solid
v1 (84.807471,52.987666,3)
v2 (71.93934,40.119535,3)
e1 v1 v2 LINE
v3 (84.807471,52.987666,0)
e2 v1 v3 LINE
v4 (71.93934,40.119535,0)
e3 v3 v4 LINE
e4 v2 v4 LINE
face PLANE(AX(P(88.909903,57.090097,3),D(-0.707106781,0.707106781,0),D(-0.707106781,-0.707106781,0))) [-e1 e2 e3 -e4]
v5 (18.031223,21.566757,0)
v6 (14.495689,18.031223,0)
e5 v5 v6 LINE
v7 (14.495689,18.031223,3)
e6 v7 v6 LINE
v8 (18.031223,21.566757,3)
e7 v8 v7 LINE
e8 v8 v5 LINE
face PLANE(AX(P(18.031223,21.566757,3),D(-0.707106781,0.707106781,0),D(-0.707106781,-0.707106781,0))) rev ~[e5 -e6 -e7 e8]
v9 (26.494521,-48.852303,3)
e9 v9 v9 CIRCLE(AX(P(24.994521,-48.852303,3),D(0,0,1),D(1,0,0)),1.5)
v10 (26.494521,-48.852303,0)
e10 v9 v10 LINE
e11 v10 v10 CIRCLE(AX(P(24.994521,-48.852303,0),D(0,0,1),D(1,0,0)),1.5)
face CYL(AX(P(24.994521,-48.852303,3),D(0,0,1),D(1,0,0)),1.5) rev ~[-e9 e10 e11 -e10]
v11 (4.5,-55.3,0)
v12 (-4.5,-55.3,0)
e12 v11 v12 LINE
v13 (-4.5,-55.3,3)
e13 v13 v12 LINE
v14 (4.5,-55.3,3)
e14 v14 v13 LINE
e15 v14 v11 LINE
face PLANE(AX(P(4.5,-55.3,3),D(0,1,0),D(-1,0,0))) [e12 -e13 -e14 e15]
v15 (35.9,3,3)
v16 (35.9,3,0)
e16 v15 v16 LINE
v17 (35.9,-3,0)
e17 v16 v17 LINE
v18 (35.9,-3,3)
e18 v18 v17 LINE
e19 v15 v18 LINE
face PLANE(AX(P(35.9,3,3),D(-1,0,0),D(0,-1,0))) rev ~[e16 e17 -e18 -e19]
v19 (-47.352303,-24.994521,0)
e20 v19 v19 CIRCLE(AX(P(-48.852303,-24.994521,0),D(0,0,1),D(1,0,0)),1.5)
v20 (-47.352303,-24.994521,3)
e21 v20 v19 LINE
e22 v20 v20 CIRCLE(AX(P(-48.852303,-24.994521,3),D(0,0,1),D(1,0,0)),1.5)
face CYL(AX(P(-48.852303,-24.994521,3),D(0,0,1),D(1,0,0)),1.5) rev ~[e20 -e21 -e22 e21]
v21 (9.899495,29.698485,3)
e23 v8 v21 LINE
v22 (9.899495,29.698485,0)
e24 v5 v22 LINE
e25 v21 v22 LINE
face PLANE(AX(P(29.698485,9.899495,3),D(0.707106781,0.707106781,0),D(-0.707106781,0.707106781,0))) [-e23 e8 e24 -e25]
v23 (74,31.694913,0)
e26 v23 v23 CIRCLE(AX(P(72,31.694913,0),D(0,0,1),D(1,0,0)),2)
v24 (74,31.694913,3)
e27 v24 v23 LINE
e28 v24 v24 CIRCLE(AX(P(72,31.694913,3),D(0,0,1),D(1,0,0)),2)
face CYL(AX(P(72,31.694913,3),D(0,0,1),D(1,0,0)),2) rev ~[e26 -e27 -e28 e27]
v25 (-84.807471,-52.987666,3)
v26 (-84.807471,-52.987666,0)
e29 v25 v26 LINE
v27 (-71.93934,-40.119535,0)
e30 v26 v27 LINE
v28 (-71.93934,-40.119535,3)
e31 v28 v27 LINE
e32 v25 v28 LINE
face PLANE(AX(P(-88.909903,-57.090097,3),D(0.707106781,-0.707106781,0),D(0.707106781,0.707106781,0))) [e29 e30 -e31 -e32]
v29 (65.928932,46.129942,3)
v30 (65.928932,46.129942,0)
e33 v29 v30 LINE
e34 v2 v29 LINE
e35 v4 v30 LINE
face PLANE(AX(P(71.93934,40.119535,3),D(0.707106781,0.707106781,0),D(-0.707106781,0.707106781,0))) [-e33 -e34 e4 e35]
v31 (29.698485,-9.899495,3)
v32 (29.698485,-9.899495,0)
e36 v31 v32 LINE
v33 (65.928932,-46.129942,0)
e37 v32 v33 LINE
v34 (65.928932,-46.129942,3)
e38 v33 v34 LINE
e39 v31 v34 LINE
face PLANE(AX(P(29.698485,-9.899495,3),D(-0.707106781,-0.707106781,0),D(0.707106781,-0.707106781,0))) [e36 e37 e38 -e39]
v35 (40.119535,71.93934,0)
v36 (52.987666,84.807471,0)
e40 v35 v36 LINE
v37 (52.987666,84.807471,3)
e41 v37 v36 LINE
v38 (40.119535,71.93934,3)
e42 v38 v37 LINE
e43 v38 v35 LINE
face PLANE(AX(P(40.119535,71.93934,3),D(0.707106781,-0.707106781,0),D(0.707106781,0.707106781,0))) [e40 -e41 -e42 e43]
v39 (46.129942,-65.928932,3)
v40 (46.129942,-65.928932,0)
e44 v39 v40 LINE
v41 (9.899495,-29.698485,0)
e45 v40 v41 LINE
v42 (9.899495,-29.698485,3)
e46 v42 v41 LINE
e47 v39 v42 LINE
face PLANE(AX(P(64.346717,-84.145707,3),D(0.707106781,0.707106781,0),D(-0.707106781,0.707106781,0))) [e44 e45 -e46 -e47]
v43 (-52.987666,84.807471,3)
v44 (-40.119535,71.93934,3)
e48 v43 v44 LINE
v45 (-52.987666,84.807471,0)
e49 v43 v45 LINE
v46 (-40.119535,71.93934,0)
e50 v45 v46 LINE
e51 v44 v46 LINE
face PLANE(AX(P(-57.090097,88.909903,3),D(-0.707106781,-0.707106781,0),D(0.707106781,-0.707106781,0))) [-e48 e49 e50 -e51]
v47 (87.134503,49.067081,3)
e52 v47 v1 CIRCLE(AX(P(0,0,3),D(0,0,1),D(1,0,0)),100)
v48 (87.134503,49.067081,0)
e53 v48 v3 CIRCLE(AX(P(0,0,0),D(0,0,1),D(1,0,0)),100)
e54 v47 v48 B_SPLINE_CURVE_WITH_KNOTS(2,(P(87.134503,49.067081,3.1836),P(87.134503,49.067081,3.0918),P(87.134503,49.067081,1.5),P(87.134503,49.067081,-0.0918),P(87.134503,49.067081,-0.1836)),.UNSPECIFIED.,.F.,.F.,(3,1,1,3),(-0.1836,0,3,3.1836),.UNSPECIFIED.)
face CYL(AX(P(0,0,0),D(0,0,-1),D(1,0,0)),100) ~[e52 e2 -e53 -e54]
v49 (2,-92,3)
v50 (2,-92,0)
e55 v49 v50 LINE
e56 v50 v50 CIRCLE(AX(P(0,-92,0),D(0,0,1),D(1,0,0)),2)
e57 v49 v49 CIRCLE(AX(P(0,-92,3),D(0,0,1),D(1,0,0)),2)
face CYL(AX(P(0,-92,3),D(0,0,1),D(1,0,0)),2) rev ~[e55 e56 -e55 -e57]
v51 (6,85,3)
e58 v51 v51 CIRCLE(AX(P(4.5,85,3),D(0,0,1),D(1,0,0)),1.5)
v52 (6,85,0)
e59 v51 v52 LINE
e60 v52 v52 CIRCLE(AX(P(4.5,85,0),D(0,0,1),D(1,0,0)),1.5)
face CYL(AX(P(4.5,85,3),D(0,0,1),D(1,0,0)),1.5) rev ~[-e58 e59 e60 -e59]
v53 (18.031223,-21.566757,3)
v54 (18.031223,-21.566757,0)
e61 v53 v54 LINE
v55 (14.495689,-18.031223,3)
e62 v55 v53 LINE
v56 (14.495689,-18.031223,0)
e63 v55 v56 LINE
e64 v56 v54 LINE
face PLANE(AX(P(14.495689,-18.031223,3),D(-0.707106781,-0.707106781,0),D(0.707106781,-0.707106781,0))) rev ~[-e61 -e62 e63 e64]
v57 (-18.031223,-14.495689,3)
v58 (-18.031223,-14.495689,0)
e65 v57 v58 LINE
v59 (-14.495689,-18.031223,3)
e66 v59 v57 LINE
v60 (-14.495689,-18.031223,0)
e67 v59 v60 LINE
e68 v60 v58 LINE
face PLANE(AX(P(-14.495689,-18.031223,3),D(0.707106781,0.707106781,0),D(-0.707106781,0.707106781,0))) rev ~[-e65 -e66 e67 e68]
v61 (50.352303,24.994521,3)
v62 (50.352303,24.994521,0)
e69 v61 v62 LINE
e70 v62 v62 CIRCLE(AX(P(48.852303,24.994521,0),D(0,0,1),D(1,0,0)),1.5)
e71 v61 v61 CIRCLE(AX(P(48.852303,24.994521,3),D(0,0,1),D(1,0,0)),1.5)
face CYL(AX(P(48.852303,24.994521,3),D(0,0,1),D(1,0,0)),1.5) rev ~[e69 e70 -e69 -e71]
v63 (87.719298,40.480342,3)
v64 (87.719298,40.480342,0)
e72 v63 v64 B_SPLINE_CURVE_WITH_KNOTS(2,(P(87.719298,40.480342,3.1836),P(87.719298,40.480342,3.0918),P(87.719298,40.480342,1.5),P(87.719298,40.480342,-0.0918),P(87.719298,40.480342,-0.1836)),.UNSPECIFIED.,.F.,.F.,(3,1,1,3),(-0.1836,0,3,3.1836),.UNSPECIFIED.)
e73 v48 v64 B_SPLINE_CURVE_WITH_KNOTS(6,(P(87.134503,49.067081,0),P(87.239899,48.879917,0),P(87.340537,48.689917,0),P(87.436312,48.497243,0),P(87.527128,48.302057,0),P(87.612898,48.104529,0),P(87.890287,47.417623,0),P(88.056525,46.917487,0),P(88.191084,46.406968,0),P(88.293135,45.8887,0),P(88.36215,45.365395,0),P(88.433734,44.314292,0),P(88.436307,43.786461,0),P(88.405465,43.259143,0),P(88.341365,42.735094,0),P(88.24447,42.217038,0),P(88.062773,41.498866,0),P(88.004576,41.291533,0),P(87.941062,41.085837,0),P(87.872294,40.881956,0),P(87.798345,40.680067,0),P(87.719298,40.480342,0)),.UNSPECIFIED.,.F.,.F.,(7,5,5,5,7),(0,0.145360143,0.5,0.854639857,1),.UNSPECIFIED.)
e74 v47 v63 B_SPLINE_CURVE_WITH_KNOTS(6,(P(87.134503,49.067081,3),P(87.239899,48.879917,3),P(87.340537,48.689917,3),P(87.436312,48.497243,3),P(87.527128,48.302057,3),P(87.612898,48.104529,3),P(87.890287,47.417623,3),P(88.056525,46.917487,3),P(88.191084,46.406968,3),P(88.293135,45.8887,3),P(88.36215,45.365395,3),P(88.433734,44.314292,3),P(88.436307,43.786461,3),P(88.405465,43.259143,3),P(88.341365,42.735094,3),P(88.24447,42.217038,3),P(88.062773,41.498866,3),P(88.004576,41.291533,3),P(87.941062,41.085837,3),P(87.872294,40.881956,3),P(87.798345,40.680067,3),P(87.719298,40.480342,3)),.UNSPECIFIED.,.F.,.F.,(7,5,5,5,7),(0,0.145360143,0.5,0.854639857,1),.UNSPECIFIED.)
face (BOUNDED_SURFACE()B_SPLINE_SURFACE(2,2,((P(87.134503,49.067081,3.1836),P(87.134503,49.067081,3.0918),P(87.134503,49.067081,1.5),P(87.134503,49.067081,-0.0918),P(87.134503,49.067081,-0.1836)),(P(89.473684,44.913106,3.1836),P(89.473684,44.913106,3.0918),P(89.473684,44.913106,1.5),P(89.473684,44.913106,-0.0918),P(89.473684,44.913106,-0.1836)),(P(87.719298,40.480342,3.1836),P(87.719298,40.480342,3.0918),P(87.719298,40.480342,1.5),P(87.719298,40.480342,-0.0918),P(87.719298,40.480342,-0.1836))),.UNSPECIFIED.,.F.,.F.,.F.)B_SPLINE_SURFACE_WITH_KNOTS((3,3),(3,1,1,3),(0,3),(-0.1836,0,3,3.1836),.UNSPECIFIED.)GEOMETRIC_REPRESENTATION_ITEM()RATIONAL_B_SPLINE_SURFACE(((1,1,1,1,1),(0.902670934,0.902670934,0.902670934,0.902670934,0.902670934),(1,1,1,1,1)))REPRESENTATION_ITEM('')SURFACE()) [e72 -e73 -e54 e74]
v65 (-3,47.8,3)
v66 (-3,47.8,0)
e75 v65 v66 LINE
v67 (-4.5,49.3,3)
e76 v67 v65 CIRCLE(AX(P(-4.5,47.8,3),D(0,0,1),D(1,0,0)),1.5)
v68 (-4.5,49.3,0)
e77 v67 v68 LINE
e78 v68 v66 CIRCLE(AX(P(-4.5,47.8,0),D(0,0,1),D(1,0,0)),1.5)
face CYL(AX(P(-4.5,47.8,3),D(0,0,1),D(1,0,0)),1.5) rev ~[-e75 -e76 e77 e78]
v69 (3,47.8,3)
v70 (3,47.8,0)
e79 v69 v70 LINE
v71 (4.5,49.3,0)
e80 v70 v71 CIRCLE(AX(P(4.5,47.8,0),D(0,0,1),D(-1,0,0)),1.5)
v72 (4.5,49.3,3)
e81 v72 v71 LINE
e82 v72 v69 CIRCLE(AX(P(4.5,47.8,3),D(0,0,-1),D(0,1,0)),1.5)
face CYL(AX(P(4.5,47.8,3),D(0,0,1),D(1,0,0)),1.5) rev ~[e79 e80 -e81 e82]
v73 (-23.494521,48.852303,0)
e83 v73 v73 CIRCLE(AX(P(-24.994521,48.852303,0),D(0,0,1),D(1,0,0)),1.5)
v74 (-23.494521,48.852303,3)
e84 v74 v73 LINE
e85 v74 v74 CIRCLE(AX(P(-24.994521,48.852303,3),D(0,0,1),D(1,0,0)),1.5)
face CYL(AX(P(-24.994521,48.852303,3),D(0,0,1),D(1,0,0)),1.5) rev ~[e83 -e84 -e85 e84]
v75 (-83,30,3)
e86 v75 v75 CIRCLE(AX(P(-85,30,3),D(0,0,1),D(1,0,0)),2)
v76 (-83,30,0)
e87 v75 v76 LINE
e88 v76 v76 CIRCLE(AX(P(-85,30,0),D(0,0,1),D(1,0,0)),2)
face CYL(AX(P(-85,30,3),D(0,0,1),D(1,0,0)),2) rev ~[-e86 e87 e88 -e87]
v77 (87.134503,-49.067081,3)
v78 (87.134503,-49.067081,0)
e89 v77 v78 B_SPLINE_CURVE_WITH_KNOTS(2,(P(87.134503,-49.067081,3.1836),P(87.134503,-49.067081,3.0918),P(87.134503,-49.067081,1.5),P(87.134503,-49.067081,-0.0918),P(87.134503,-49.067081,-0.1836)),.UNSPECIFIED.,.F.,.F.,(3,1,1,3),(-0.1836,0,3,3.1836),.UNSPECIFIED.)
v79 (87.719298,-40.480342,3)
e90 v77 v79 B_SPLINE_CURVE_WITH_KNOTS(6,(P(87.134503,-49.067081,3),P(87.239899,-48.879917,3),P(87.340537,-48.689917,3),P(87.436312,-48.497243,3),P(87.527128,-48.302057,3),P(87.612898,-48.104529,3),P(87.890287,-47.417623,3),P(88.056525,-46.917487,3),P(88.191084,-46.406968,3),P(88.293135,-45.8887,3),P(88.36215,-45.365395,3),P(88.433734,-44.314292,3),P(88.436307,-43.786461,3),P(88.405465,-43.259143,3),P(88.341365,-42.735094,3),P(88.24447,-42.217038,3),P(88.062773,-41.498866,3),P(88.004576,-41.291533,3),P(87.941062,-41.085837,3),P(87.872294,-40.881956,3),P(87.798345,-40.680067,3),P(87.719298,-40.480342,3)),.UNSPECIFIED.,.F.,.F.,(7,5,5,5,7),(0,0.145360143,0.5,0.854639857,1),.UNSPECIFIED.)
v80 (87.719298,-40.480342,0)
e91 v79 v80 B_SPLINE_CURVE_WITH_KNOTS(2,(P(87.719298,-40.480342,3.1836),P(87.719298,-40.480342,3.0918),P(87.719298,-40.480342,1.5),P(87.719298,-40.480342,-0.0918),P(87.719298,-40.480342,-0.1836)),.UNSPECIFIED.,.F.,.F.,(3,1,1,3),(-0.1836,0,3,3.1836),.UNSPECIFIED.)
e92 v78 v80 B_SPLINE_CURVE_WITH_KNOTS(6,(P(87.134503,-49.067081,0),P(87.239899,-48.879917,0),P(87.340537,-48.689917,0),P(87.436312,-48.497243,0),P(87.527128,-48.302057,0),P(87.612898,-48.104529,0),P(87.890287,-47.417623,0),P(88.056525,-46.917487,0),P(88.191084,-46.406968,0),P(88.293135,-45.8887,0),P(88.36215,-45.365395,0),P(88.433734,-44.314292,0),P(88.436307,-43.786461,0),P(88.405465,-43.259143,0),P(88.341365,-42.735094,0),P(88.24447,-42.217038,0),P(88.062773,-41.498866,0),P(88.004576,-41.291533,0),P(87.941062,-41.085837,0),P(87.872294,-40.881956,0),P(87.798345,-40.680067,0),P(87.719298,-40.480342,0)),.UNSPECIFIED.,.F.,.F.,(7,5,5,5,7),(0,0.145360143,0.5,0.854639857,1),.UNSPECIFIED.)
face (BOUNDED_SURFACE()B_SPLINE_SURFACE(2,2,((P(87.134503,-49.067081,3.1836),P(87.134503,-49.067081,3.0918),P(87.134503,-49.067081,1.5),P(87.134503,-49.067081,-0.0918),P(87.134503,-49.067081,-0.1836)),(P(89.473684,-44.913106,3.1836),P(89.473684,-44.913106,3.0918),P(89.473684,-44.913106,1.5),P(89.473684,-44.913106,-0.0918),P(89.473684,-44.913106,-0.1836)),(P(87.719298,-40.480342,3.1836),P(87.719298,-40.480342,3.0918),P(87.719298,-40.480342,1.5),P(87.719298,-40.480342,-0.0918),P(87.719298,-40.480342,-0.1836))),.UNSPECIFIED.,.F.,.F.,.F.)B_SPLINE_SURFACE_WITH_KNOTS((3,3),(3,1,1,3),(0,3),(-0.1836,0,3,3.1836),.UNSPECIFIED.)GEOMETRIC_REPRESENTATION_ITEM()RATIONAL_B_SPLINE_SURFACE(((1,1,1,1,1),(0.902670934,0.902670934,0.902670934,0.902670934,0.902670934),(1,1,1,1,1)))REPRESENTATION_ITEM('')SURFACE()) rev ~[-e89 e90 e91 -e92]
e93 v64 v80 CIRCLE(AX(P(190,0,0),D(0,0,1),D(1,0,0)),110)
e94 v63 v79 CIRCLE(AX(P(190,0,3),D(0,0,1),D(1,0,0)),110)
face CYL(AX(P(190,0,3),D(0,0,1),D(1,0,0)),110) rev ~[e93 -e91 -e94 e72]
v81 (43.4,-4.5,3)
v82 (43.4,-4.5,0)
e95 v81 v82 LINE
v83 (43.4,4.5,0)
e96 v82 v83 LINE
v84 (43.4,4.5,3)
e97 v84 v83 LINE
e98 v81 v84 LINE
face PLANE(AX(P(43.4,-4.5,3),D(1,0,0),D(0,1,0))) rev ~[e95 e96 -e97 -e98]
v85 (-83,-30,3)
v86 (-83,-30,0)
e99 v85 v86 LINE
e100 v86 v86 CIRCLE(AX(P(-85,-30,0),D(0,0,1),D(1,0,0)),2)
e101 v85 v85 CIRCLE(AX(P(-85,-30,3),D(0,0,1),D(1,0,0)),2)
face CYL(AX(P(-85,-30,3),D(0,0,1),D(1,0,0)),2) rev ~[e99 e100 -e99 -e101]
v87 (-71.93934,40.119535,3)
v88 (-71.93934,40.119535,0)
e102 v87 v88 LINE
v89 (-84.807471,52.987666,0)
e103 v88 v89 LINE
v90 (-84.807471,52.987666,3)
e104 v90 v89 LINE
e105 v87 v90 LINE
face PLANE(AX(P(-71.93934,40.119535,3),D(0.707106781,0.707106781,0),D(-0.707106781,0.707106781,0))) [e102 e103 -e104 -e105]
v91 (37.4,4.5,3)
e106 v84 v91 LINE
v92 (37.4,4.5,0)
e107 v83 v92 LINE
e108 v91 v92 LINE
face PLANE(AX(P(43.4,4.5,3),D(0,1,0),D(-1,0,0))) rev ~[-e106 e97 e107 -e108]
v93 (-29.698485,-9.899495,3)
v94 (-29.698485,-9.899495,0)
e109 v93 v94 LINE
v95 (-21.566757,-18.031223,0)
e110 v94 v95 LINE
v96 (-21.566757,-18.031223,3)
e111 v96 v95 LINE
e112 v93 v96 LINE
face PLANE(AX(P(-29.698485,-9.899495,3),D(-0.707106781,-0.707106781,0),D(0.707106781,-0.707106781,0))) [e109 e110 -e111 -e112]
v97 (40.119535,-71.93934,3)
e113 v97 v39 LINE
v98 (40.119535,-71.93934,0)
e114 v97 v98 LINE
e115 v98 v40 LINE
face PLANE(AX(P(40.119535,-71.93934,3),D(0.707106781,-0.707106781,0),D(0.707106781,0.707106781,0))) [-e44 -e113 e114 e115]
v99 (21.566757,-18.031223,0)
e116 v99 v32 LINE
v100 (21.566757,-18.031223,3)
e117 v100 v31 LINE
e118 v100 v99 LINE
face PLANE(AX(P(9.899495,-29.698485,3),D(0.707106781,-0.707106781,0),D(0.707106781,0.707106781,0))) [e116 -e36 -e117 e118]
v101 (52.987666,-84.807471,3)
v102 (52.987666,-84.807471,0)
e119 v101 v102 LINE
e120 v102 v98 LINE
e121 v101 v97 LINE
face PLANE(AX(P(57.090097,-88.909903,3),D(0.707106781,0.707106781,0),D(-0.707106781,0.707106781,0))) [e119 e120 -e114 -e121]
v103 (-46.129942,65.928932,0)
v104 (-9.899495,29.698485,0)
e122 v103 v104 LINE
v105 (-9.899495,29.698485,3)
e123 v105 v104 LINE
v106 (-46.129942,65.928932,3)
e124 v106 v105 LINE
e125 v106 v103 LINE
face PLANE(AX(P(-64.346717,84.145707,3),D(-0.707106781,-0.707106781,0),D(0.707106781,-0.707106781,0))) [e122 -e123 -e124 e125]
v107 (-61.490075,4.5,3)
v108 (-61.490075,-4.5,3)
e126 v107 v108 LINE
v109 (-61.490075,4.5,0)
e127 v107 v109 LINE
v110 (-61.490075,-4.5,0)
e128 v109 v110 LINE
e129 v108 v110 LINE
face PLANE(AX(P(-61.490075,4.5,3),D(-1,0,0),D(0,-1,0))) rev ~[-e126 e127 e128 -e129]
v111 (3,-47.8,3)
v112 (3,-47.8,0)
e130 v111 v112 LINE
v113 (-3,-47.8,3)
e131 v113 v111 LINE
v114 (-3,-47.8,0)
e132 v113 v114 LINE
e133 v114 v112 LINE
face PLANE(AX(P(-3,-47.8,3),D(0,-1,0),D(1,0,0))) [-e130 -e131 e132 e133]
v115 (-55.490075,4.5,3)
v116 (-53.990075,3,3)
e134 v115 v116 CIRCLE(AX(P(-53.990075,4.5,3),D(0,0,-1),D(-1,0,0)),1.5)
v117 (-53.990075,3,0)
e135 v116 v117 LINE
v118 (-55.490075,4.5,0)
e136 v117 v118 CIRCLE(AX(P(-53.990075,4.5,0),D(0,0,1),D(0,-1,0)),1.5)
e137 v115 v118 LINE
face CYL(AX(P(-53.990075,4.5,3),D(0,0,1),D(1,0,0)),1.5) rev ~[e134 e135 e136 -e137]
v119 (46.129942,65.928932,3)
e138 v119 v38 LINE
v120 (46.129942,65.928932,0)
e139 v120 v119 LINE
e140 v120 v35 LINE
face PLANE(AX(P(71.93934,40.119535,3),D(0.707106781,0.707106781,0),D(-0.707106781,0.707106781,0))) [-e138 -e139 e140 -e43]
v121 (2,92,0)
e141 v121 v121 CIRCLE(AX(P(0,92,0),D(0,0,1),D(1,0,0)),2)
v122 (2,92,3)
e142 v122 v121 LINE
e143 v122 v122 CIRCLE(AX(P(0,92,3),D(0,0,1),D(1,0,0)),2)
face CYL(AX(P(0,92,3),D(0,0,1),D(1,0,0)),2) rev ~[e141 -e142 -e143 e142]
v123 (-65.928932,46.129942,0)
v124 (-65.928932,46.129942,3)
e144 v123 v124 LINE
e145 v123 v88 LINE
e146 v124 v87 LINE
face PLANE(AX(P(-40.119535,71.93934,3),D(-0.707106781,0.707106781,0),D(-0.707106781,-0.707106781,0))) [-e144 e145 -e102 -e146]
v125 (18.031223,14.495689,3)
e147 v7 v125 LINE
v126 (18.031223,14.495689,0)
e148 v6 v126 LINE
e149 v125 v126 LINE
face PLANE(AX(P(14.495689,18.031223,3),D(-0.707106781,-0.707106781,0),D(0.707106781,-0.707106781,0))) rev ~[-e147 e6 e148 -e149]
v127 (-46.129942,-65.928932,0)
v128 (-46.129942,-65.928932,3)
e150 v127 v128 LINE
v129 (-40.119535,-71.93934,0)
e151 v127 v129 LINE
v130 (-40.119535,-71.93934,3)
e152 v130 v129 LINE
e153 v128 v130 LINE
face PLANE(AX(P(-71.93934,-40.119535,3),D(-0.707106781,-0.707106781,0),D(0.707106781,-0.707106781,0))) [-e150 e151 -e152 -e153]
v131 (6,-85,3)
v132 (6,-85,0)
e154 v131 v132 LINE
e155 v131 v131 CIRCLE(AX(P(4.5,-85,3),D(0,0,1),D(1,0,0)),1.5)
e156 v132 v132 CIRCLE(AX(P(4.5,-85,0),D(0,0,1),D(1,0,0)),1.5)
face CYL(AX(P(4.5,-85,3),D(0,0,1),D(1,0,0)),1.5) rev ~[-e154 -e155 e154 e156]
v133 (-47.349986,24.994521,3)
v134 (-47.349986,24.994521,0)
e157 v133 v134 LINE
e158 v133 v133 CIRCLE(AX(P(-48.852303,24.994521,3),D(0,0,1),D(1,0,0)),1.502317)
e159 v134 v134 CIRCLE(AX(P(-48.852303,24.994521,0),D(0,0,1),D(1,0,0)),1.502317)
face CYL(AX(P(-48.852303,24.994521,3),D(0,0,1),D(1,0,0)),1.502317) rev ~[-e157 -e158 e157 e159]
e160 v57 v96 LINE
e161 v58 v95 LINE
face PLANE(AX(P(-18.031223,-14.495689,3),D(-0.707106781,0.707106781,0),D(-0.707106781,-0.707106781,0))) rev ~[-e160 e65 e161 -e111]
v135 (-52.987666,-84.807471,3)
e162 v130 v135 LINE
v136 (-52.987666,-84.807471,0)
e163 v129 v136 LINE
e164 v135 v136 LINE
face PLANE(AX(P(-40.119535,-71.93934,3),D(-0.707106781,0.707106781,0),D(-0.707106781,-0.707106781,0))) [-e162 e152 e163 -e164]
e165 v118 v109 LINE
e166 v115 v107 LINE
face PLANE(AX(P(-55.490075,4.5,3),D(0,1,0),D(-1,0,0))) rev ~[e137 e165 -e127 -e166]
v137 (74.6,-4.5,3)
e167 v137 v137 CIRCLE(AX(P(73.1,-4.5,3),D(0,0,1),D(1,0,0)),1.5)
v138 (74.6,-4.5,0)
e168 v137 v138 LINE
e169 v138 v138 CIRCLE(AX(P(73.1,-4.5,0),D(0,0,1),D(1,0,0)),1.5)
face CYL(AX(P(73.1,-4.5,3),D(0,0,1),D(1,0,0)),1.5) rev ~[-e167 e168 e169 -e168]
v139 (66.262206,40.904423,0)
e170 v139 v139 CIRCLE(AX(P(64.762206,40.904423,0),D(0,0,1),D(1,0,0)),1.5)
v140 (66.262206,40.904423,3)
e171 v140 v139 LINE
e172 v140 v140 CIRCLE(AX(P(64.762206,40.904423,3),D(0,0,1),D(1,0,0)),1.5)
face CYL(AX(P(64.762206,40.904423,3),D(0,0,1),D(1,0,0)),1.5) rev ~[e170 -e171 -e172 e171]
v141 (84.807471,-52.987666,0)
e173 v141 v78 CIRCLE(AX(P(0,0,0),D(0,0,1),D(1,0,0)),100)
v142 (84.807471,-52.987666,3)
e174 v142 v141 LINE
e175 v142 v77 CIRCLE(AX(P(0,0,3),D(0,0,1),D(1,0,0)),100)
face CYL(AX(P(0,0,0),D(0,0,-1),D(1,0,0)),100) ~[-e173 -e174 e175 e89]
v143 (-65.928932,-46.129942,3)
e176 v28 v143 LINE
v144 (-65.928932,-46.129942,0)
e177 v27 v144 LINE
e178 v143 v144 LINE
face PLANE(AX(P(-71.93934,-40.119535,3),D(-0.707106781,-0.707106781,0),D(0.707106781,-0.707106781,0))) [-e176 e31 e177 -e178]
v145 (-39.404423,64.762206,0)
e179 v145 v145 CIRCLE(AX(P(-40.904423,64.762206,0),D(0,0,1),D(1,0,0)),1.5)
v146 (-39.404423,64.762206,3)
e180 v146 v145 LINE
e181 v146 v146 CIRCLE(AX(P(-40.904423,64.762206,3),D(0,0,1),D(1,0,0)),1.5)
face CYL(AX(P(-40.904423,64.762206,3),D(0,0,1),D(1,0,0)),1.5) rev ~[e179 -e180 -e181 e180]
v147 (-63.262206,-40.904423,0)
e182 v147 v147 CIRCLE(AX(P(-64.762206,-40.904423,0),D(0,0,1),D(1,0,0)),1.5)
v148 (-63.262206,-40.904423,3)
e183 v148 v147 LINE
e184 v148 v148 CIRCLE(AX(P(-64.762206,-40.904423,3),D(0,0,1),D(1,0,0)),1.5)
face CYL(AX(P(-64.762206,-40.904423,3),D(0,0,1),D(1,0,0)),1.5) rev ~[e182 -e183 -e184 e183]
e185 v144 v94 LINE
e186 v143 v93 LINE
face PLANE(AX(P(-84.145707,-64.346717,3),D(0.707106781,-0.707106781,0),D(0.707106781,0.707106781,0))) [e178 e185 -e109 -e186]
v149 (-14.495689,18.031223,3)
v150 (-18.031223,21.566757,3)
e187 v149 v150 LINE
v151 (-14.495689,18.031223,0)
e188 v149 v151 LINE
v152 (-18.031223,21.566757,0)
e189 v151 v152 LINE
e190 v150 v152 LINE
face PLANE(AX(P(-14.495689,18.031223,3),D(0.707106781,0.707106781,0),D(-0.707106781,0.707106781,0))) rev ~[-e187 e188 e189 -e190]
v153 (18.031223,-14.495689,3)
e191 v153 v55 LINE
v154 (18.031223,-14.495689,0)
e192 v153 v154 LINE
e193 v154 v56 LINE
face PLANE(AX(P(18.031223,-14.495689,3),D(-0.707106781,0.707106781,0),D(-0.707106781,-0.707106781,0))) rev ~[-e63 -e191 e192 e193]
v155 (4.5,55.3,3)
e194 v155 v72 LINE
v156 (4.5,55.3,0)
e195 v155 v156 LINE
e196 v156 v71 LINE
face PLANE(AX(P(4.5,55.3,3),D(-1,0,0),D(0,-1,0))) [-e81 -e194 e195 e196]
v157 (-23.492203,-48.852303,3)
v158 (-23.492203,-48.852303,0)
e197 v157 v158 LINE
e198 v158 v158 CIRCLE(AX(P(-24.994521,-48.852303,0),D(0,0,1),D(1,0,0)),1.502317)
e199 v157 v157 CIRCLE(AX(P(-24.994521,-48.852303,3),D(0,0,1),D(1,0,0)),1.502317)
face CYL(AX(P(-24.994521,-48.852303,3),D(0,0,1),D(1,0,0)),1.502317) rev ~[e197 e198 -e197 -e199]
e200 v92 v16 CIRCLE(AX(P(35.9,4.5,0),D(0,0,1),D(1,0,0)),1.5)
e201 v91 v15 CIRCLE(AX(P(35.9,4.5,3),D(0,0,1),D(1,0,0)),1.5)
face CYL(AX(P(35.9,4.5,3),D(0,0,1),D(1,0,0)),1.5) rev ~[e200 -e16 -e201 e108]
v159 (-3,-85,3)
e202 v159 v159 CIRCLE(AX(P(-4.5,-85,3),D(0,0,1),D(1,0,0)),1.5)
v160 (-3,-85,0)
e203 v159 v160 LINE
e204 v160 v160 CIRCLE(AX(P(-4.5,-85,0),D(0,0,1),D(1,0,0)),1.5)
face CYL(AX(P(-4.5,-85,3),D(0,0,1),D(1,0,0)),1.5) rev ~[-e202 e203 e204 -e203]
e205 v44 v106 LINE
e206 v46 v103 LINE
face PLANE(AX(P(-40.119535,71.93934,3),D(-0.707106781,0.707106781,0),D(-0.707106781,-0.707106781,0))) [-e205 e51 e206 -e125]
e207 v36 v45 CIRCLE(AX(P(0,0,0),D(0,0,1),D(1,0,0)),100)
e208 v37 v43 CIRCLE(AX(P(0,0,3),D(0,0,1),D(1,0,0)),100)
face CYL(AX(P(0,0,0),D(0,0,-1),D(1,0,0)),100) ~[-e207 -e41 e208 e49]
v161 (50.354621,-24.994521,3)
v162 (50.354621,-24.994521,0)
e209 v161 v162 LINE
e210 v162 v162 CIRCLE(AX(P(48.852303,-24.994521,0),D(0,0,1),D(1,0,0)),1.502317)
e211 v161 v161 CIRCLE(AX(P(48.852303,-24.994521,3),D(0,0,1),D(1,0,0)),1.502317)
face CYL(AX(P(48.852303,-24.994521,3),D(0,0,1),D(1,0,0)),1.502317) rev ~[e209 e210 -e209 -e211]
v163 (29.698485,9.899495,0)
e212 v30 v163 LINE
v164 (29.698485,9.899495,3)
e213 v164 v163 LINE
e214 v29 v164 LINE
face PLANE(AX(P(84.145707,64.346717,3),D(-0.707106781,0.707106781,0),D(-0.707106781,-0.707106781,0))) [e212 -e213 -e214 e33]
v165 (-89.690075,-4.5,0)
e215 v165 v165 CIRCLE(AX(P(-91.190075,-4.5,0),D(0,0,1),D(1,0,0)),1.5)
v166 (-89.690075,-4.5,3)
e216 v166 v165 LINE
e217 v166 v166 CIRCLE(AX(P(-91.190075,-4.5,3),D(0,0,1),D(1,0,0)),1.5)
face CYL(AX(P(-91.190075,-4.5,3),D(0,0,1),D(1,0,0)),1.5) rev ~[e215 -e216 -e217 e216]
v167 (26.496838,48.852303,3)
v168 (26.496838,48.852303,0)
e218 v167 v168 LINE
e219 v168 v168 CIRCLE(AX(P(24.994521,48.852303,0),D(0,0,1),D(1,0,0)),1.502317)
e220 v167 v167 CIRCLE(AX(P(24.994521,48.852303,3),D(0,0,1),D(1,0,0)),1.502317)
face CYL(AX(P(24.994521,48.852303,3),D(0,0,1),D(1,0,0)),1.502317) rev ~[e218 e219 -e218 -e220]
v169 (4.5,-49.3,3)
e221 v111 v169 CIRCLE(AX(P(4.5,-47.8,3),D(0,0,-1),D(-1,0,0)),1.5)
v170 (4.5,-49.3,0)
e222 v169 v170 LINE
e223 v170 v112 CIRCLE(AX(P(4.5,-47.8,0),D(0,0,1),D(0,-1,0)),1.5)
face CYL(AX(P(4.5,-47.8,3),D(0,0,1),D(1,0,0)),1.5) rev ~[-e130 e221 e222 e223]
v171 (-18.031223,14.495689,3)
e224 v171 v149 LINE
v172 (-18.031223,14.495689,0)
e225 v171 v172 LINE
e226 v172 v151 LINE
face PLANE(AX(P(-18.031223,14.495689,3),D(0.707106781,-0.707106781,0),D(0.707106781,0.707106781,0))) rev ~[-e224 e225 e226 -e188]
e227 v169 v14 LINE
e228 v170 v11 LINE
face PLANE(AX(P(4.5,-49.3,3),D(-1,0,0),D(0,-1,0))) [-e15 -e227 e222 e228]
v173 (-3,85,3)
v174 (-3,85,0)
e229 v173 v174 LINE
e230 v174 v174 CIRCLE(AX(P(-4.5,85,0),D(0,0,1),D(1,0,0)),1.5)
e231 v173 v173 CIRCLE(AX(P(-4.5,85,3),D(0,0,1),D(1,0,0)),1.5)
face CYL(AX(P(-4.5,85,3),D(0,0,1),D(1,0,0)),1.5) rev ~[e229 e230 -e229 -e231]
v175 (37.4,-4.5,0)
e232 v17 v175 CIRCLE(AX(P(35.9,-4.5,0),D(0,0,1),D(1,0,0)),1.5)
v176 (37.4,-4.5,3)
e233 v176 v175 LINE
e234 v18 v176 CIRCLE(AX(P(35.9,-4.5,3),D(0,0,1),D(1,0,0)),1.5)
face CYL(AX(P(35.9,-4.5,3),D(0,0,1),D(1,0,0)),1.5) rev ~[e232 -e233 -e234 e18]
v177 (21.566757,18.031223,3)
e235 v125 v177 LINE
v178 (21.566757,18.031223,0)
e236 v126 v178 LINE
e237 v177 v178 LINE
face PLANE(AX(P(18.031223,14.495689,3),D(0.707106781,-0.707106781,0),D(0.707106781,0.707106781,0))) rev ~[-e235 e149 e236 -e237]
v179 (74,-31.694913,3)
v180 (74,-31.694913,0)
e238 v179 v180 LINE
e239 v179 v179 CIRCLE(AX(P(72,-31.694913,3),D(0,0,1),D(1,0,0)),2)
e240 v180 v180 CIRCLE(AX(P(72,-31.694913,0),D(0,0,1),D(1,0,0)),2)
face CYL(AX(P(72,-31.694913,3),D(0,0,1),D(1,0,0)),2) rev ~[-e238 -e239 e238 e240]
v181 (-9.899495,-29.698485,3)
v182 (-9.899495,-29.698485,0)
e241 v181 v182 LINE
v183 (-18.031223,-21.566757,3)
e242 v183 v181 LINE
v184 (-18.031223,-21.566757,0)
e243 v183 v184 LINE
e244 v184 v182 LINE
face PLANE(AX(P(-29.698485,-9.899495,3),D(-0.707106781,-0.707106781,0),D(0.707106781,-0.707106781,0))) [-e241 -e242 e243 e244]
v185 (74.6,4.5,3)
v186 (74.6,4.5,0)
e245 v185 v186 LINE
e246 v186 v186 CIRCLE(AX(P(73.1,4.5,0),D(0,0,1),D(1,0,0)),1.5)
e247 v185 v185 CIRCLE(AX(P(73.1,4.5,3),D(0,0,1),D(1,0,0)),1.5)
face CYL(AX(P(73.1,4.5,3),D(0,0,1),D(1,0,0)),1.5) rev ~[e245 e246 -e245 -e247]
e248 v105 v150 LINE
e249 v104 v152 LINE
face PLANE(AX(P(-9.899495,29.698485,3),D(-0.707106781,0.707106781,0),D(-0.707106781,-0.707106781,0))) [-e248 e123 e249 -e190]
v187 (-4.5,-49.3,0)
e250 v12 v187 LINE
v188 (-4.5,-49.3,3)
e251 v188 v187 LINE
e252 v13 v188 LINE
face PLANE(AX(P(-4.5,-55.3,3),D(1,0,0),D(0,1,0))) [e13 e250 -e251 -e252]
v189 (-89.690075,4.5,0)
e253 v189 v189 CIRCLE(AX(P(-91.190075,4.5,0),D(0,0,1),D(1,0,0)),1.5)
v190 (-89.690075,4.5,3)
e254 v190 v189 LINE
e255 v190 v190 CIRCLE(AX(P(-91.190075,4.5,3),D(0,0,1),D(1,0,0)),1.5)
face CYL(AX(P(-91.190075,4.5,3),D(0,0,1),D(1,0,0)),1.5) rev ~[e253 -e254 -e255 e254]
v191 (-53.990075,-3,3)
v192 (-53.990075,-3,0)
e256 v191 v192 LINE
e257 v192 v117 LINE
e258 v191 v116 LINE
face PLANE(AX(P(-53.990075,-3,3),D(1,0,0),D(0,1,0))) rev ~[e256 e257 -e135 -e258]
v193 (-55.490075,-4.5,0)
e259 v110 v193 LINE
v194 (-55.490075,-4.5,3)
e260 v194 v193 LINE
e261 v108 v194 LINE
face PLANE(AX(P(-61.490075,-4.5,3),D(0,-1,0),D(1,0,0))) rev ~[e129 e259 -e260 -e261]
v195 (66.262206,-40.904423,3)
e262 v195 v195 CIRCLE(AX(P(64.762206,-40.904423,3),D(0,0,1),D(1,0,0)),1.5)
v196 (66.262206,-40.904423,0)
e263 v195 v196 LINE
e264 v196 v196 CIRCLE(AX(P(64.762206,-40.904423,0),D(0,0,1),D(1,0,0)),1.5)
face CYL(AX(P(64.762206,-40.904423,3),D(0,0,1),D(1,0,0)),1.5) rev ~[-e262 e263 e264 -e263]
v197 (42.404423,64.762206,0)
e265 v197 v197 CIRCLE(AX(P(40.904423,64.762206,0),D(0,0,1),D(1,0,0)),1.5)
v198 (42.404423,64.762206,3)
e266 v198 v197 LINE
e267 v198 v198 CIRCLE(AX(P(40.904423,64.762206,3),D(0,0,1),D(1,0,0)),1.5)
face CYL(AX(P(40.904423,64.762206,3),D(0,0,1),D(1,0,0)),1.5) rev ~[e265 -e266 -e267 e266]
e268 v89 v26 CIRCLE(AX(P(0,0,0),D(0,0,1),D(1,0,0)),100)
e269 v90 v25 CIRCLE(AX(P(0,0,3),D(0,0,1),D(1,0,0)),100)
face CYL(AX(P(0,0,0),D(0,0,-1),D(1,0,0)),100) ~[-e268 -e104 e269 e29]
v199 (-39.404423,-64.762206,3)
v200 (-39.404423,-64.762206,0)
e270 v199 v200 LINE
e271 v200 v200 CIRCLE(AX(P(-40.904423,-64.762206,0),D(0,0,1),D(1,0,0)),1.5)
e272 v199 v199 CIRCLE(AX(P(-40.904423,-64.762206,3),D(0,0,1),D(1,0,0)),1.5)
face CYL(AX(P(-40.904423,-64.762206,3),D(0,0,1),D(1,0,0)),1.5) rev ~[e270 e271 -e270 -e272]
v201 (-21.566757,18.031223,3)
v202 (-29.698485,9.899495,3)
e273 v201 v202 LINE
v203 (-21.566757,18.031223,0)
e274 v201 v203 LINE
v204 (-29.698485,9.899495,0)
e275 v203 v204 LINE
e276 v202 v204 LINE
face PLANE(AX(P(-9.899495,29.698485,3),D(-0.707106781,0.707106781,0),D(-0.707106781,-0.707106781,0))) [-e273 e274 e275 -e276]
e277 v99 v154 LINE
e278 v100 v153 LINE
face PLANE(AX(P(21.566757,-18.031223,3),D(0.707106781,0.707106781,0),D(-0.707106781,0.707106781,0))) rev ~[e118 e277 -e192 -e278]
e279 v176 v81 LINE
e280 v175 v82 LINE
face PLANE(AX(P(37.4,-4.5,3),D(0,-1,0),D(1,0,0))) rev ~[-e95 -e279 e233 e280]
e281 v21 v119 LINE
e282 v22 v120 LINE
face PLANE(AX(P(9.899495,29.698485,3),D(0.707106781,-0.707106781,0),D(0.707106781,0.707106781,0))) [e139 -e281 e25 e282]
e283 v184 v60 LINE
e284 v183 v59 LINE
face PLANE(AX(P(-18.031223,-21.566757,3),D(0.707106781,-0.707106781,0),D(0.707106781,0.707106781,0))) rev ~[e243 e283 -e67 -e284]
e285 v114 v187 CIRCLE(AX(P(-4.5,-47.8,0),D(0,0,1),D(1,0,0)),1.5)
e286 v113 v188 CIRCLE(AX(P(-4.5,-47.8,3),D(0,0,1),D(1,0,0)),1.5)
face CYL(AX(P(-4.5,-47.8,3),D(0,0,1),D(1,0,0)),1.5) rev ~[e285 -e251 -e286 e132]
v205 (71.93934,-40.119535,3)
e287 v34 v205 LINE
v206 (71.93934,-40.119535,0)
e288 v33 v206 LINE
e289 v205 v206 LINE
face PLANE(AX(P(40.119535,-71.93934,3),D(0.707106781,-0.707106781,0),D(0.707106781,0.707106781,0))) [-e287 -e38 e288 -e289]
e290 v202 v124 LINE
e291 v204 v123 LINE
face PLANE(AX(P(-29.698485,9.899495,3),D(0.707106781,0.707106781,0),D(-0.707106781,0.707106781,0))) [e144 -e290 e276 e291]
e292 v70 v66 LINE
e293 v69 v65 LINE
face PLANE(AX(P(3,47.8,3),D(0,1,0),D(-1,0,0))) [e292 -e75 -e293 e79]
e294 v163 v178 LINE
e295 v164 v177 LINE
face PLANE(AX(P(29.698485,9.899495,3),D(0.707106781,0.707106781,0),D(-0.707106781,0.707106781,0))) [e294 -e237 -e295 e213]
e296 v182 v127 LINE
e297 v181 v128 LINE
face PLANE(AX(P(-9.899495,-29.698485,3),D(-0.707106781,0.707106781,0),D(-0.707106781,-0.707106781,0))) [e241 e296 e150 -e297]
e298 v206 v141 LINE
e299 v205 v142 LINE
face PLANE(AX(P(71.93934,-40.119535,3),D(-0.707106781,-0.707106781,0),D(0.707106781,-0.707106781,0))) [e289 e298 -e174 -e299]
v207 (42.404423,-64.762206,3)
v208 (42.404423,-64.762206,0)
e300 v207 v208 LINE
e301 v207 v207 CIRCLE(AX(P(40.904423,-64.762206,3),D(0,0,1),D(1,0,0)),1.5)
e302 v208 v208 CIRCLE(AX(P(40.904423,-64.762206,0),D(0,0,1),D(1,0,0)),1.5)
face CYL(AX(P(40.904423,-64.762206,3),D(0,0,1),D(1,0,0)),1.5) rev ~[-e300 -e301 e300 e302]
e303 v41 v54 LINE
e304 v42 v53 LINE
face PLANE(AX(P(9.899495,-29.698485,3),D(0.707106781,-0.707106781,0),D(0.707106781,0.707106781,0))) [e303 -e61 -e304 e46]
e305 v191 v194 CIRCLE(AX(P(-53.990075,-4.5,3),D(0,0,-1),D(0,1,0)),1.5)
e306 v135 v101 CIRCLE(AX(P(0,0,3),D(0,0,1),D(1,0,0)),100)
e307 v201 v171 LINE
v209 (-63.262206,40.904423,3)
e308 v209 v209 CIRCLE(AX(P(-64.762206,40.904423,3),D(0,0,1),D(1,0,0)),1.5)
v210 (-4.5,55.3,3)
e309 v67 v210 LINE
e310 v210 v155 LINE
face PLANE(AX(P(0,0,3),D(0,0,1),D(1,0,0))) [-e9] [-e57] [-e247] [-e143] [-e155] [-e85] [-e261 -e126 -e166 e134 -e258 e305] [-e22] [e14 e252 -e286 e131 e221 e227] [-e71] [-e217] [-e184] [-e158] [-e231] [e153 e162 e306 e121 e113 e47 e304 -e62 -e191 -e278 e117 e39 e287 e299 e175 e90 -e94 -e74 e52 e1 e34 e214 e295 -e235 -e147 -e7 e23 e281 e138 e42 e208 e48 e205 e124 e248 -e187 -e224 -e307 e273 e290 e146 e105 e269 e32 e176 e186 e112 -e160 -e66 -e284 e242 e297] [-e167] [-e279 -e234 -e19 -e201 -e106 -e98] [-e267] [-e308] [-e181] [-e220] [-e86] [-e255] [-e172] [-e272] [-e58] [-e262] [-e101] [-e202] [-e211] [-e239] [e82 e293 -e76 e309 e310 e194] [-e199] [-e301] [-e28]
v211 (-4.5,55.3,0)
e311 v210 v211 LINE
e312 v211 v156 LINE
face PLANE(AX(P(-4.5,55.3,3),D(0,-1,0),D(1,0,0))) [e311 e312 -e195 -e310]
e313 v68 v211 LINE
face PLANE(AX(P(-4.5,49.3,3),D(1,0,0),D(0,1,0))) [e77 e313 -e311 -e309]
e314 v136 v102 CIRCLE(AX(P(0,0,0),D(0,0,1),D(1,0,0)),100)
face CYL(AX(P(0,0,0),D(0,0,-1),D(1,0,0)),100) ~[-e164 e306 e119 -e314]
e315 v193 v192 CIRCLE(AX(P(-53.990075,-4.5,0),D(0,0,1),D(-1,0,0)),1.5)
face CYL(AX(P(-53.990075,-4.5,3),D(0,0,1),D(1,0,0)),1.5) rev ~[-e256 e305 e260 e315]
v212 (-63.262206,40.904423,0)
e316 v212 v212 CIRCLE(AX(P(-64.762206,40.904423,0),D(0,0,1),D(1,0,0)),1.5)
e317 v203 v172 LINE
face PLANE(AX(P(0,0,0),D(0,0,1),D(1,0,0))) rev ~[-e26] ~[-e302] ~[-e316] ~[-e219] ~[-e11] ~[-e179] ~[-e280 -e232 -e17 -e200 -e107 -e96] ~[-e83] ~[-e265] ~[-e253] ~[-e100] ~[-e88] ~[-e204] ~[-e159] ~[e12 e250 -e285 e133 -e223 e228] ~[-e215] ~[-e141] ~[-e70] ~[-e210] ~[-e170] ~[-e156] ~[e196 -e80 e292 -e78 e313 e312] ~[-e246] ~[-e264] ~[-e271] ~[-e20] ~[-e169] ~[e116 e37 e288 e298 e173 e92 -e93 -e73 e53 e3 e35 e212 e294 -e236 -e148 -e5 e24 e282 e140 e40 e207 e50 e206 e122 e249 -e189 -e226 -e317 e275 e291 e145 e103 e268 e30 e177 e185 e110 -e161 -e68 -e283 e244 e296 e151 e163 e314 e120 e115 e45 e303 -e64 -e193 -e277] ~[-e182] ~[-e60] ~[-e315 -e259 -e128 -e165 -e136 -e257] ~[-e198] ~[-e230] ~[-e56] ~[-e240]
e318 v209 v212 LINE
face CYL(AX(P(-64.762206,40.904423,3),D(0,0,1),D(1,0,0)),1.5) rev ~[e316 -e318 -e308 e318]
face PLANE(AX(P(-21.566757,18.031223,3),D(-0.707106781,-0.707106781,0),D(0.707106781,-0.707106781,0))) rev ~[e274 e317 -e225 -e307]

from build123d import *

# Parameters (mm, degrees)
CROQUIS1_R              = 100
SALIENTE_EXTRUIR1_DEPTH = 3
CROQUIS3_R              = 110
CORTAR_EXTRUIR1_DEPTH   = 3
REDONDEO1_R             = 10
CORTAR_EXTRUIR2_DEPTH   = 10
CORTAR_EXTRUIR3_DEPTH   = 10
CROQUIS8_R              = 1.5
CROQUIS8_R_2            = 1.502317269
CROQUIS8_R_3            = 2
CORTAR_EXTRUIR4_DEPTH   = 10
CROQUIS9_R              = 1.5
CROQUIS9_W              = 4.5
CROQUIS9_H              = 7.5
CROQUIS9_W_2            = 7.5
CROQUIS9_H_2            = 4.5
CORTAR_EXTRUIR5_DEPTH   = 10
CORTAR_EXTRUIR6_DEPTH   = 3


with BuildPart() as part:
    # Croquis1 → Saliente-Extruir1 (new body)
    with BuildSketch(Plane.XY):
        Circle(CROQUIS1_R)
    extrude(amount=SALIENTE_EXTRUIR1_DEPTH)

    # Croquis3 → Cortar-Extruir1 (cut)
    with BuildSketch(Plane.XY.offset(3)):
        with Locations((190, 0)):
            Circle(CROQUIS3_R)
    extrude(amount=-CORTAR_EXTRUIR1_DEPTH, mode=Mode.SUBTRACT)

    # Redondeo1
    redondeo1_edges = [part.edges().sort_by_distance(p)[0] for p in [
        (89.473684211, -44.659375654, 1.5),
        (89.473684211, 44.659375654, 1.5),
    ]]
    fillet(redondeo1_edges, radius=REDONDEO1_R)

    # Croquis5 → Cortar-Extruir2 (cut)
    with BuildSketch(Plane.XY.offset(3)):
        Polygon((-29.69848481, -9.899494937), (-9.899494937, -29.69848481), (-64.346717088, -84.145706961), (-84.145706961, -64.346717088), align=None)
        Polygon((-9.899494937, 29.69848481), (-29.69848481, 9.899494937), (-84.145706961, 64.346717088), (-64.346717088, 84.145706961), align=None)
        Polygon((29.69848481, 9.899494937), (9.899494937, 29.69848481), (64.346717088, 84.145706961), (84.145706961, 64.346717088), align=None)
        Polygon((9.899494937, -29.69848481), (29.69848481, -9.899494937), (84.145706961, -64.346717088), (64.346717088, -84.145706961), align=None)
    extrude(amount=-CORTAR_EXTRUIR2_DEPTH, mode=Mode.SUBTRACT)

    # Croquis7 → Cortar-Extruir3 (cut)
    with BuildSketch(Plane.XY.offset(3)):
        Polygon((-71.939339828, -40.119534675), (-40.119534675, -71.939339828), (-57.090097423, -88.909902577), (-88.909902577, -57.090097423), align=None)
        Polygon((-40.119534675, 71.939339828), (-71.939339828, 40.119534675), (-88.909902577, 57.090097423), (-57.090097423, 88.909902577), align=None)
        Polygon((71.939339828, 40.119534675), (40.119534675, 71.939339828), (57.090097423, 88.909902577), (88.909902577, 57.090097423), align=None)
        Polygon((40.119534675, -71.939339828), (71.939339828, -40.119534675), (88.909902577, -57.090097423), (57.090097423, -88.909902577), align=None)
        Polygon((-21.566756826, -18.03122292), (-18.03122292, -21.566756826), (-14.495689014, -18.03122292), (-18.03122292, -14.495689014), align=None)
        Polygon((-21.566756826, 18.03122292), (-18.03122292, 14.495689014), (-14.495689014, 18.03122292), (-18.03122292, 21.566756826), align=None)
        Polygon((18.03122292, 21.566756826), (14.495689014, 18.03122292), (18.03122292, 14.495689014), (21.566756826, 18.03122292), align=None)
        Polygon((21.566756826, -18.03122292), (18.03122292, -14.495689014), (14.495689014, -18.03122292), (18.03122292, -21.566756826), align=None)
    extrude(amount=-CORTAR_EXTRUIR3_DEPTH, mode=Mode.SUBTRACT)

    # Croquis8 → Cortar-Extruir4 (cut)
    with BuildSketch(Plane.XY.offset(3)):
        with Locations((-64.762205999, 40.904423202)):
            Circle(CROQUIS8_R)
        with Locations((-48.852303422, 24.994520625)):
            Circle(CROQUIS8_R_2)
        with Locations((-24.994520625, 48.852303422)):
            Circle(CROQUIS8_R)
        with Locations((-40.904423202, 64.762205999)):
            Circle(CROQUIS8_R)
        with Locations((64.762205999, 40.904423202)):
            Circle(CROQUIS8_R)
        with Locations((48.852303422, 24.994520625)):
            Circle(CROQUIS8_R)
        with Locations((24.994520625, 48.852303422)):
            Circle(CROQUIS8_R_2)
        with Locations((40.904423202, 64.762205999)):
            Circle(CROQUIS8_R)
        with Locations((40.904423202, -64.762205999)):
            Circle(CROQUIS8_R)
        with Locations((24.994520625, -48.852303422)):
            Circle(CROQUIS8_R)
        with Locations((48.852303422, -24.994520625)):
            Circle(CROQUIS8_R_2)
        with Locations((64.762205999, -40.904423202)):
            Circle(CROQUIS8_R)
        with Locations((-64.762205999, -40.904423202)):
            Circle(CROQUIS8_R)
        with Locations((-48.852303422, -24.994520625)):
            Circle(CROQUIS8_R)
        with Locations((-24.994520625, -48.852303422)):
            Circle(CROQUIS8_R_2)
        with Locations((-40.904423202, -64.762205999)):
            Circle(CROQUIS8_R)
        with Locations((0, 92)):
            Circle(CROQUIS8_R_3)
        with Locations((0, -92)):
            Circle(CROQUIS8_R_3)
        with Locations((72, 31.694913472)):
            Circle(CROQUIS8_R_3)
        with Locations((72, -31.694913472)):
            Circle(CROQUIS8_R_3)
        with Locations((-85, -30)):
            Circle(CROQUIS8_R_3)
        with Locations((-85, 30)):
            Circle(CROQUIS8_R_3)
    extrude(amount=-CORTAR_EXTRUIR4_DEPTH, mode=Mode.SUBTRACT)

    # Croquis9 → Cortar-Extruir5 (cut)
    with BuildSketch(Plane.XY.offset(3)):
        with Locations((73.1, -4.5)):
            Circle(CROQUIS9_R)
        with Locations((35.9, 4.5)):
            Circle(CROQUIS9_R)
        with Locations((73.1, 4.5)):
            Circle(CROQUIS9_R)
        with Locations((35.9, -4.5)):
            Circle(CROQUIS9_R)
        with Locations((-91.190074744, 4.5)):
            Circle(CROQUIS9_R)
        with Locations((-91.190074744, -4.5)):
            Circle(CROQUIS9_R)
        with Locations((-53.990074744, 4.5)):
            Circle(CROQUIS9_R)
        with Locations((-53.990074744, -4.5)):
            Circle(CROQUIS9_R)
        with Locations((-4.5, 85)):
            Circle(CROQUIS9_R)
        with Locations((4.5, 85)):
            Circle(CROQUIS9_R)
        with Locations((-4.5, 47.8)):
            Circle(CROQUIS9_R)
        with Locations((4.5, 47.8)):
            Circle(CROQUIS9_R)
        with Locations((-4.5, -47.8)):
            Circle(CROQUIS9_R)
        with Locations((4.5, -47.8)):
            Circle(CROQUIS9_R)
        with Locations((4.5, -85)):
            Circle(CROQUIS9_R)
        with Locations((-4.5, -85)):
            Circle(CROQUIS9_R)
        with Locations((39.85, 0)):
            Rectangle(CROQUIS9_W, CROQUIS9_H)
        with Locations((0, -51.75)):
            Rectangle(CROQUIS9_W_2, CROQUIS9_H_2)
        with Locations((-57.940074744, 0)):
            Rectangle(CROQUIS9_W, CROQUIS9_H)
        with Locations((0, 51.75)):
            Rectangle(CROQUIS9_W_2, CROQUIS9_H_2)
    extrude(amount=-CORTAR_EXTRUIR5_DEPTH, mode=Mode.SUBTRACT)

    # Croquis10 → Cortar-Extruir6 (cut)
    with BuildSketch(Plane.XY.offset(3)):
        with BuildLine():
            Line((-4.5, 49.3), (-4.5, 55.3))
            Line((-4.5, 55.3), (4.5, 55.3))
            Line((4.5, 55.3), (4.5, 49.3))
            ThreePointArc((4.5, 49.3), (3.439339828, 48.860660172), (3, 47.8))
            Line((3, 47.8), (-3, 47.8))
            ThreePointArc((-3, 47.8), (-3.439339828, 48.860660172), (-4.5, 49.3))
        make_face()
        with BuildLine():
            Line((43.4, 4.5), (37.4, 4.5))
            ThreePointArc((37.4, 4.5), (36.960660172, 3.439339828), (35.9, 3))
            Line((35.9, 3), (35.9, -3))
            ThreePointArc((35.9, -3), (36.960660172, -3.439339828), (37.4, -4.5))
            Line((37.4, -4.5), (43.4, -4.5))
            Line((43.4, -4.5), (43.4, 4.5))
        make_face()
        with BuildLine():
            ThreePointArc((3, -47.8), (3.439339828, -48.860660172), (4.5, -49.3))
            Line((4.5, -49.3), (4.5, -55.3))
            Line((4.5, -55.3), (-4.5, -55.3))
            Line((-4.5, -55.3), (-4.5, -49.3))
            ThreePointArc((-4.5, -49.3), (-3.439339828, -48.860660172), (-3, -47.8))
            Line((-3, -47.8), (3, -47.8))
        make_face()
        with BuildLine():
            Line((-61.490074744, -4.5), (-55.490074744, -4.5))
            ThreePointArc((-55.490074744, -4.5), (-55.050734915, -3.439339828), (-53.990074744, -3))
            Line((-53.990074744, -3), (-53.990074744, 3))
            ThreePointArc((-53.990074744, 3), (-55.050734915, 3.439339828), (-55.490074744, 4.5))
            Line((-55.490074744, 4.5), (-61.490074744, 4.5))
            Line((-61.490074744, 4.5), (-61.490074744, -4.5))
        make_face()
    extrude(amount=-CORTAR_EXTRUIR6_DEPTH, mode=Mode.SUBTRACT)


solid = part.part
